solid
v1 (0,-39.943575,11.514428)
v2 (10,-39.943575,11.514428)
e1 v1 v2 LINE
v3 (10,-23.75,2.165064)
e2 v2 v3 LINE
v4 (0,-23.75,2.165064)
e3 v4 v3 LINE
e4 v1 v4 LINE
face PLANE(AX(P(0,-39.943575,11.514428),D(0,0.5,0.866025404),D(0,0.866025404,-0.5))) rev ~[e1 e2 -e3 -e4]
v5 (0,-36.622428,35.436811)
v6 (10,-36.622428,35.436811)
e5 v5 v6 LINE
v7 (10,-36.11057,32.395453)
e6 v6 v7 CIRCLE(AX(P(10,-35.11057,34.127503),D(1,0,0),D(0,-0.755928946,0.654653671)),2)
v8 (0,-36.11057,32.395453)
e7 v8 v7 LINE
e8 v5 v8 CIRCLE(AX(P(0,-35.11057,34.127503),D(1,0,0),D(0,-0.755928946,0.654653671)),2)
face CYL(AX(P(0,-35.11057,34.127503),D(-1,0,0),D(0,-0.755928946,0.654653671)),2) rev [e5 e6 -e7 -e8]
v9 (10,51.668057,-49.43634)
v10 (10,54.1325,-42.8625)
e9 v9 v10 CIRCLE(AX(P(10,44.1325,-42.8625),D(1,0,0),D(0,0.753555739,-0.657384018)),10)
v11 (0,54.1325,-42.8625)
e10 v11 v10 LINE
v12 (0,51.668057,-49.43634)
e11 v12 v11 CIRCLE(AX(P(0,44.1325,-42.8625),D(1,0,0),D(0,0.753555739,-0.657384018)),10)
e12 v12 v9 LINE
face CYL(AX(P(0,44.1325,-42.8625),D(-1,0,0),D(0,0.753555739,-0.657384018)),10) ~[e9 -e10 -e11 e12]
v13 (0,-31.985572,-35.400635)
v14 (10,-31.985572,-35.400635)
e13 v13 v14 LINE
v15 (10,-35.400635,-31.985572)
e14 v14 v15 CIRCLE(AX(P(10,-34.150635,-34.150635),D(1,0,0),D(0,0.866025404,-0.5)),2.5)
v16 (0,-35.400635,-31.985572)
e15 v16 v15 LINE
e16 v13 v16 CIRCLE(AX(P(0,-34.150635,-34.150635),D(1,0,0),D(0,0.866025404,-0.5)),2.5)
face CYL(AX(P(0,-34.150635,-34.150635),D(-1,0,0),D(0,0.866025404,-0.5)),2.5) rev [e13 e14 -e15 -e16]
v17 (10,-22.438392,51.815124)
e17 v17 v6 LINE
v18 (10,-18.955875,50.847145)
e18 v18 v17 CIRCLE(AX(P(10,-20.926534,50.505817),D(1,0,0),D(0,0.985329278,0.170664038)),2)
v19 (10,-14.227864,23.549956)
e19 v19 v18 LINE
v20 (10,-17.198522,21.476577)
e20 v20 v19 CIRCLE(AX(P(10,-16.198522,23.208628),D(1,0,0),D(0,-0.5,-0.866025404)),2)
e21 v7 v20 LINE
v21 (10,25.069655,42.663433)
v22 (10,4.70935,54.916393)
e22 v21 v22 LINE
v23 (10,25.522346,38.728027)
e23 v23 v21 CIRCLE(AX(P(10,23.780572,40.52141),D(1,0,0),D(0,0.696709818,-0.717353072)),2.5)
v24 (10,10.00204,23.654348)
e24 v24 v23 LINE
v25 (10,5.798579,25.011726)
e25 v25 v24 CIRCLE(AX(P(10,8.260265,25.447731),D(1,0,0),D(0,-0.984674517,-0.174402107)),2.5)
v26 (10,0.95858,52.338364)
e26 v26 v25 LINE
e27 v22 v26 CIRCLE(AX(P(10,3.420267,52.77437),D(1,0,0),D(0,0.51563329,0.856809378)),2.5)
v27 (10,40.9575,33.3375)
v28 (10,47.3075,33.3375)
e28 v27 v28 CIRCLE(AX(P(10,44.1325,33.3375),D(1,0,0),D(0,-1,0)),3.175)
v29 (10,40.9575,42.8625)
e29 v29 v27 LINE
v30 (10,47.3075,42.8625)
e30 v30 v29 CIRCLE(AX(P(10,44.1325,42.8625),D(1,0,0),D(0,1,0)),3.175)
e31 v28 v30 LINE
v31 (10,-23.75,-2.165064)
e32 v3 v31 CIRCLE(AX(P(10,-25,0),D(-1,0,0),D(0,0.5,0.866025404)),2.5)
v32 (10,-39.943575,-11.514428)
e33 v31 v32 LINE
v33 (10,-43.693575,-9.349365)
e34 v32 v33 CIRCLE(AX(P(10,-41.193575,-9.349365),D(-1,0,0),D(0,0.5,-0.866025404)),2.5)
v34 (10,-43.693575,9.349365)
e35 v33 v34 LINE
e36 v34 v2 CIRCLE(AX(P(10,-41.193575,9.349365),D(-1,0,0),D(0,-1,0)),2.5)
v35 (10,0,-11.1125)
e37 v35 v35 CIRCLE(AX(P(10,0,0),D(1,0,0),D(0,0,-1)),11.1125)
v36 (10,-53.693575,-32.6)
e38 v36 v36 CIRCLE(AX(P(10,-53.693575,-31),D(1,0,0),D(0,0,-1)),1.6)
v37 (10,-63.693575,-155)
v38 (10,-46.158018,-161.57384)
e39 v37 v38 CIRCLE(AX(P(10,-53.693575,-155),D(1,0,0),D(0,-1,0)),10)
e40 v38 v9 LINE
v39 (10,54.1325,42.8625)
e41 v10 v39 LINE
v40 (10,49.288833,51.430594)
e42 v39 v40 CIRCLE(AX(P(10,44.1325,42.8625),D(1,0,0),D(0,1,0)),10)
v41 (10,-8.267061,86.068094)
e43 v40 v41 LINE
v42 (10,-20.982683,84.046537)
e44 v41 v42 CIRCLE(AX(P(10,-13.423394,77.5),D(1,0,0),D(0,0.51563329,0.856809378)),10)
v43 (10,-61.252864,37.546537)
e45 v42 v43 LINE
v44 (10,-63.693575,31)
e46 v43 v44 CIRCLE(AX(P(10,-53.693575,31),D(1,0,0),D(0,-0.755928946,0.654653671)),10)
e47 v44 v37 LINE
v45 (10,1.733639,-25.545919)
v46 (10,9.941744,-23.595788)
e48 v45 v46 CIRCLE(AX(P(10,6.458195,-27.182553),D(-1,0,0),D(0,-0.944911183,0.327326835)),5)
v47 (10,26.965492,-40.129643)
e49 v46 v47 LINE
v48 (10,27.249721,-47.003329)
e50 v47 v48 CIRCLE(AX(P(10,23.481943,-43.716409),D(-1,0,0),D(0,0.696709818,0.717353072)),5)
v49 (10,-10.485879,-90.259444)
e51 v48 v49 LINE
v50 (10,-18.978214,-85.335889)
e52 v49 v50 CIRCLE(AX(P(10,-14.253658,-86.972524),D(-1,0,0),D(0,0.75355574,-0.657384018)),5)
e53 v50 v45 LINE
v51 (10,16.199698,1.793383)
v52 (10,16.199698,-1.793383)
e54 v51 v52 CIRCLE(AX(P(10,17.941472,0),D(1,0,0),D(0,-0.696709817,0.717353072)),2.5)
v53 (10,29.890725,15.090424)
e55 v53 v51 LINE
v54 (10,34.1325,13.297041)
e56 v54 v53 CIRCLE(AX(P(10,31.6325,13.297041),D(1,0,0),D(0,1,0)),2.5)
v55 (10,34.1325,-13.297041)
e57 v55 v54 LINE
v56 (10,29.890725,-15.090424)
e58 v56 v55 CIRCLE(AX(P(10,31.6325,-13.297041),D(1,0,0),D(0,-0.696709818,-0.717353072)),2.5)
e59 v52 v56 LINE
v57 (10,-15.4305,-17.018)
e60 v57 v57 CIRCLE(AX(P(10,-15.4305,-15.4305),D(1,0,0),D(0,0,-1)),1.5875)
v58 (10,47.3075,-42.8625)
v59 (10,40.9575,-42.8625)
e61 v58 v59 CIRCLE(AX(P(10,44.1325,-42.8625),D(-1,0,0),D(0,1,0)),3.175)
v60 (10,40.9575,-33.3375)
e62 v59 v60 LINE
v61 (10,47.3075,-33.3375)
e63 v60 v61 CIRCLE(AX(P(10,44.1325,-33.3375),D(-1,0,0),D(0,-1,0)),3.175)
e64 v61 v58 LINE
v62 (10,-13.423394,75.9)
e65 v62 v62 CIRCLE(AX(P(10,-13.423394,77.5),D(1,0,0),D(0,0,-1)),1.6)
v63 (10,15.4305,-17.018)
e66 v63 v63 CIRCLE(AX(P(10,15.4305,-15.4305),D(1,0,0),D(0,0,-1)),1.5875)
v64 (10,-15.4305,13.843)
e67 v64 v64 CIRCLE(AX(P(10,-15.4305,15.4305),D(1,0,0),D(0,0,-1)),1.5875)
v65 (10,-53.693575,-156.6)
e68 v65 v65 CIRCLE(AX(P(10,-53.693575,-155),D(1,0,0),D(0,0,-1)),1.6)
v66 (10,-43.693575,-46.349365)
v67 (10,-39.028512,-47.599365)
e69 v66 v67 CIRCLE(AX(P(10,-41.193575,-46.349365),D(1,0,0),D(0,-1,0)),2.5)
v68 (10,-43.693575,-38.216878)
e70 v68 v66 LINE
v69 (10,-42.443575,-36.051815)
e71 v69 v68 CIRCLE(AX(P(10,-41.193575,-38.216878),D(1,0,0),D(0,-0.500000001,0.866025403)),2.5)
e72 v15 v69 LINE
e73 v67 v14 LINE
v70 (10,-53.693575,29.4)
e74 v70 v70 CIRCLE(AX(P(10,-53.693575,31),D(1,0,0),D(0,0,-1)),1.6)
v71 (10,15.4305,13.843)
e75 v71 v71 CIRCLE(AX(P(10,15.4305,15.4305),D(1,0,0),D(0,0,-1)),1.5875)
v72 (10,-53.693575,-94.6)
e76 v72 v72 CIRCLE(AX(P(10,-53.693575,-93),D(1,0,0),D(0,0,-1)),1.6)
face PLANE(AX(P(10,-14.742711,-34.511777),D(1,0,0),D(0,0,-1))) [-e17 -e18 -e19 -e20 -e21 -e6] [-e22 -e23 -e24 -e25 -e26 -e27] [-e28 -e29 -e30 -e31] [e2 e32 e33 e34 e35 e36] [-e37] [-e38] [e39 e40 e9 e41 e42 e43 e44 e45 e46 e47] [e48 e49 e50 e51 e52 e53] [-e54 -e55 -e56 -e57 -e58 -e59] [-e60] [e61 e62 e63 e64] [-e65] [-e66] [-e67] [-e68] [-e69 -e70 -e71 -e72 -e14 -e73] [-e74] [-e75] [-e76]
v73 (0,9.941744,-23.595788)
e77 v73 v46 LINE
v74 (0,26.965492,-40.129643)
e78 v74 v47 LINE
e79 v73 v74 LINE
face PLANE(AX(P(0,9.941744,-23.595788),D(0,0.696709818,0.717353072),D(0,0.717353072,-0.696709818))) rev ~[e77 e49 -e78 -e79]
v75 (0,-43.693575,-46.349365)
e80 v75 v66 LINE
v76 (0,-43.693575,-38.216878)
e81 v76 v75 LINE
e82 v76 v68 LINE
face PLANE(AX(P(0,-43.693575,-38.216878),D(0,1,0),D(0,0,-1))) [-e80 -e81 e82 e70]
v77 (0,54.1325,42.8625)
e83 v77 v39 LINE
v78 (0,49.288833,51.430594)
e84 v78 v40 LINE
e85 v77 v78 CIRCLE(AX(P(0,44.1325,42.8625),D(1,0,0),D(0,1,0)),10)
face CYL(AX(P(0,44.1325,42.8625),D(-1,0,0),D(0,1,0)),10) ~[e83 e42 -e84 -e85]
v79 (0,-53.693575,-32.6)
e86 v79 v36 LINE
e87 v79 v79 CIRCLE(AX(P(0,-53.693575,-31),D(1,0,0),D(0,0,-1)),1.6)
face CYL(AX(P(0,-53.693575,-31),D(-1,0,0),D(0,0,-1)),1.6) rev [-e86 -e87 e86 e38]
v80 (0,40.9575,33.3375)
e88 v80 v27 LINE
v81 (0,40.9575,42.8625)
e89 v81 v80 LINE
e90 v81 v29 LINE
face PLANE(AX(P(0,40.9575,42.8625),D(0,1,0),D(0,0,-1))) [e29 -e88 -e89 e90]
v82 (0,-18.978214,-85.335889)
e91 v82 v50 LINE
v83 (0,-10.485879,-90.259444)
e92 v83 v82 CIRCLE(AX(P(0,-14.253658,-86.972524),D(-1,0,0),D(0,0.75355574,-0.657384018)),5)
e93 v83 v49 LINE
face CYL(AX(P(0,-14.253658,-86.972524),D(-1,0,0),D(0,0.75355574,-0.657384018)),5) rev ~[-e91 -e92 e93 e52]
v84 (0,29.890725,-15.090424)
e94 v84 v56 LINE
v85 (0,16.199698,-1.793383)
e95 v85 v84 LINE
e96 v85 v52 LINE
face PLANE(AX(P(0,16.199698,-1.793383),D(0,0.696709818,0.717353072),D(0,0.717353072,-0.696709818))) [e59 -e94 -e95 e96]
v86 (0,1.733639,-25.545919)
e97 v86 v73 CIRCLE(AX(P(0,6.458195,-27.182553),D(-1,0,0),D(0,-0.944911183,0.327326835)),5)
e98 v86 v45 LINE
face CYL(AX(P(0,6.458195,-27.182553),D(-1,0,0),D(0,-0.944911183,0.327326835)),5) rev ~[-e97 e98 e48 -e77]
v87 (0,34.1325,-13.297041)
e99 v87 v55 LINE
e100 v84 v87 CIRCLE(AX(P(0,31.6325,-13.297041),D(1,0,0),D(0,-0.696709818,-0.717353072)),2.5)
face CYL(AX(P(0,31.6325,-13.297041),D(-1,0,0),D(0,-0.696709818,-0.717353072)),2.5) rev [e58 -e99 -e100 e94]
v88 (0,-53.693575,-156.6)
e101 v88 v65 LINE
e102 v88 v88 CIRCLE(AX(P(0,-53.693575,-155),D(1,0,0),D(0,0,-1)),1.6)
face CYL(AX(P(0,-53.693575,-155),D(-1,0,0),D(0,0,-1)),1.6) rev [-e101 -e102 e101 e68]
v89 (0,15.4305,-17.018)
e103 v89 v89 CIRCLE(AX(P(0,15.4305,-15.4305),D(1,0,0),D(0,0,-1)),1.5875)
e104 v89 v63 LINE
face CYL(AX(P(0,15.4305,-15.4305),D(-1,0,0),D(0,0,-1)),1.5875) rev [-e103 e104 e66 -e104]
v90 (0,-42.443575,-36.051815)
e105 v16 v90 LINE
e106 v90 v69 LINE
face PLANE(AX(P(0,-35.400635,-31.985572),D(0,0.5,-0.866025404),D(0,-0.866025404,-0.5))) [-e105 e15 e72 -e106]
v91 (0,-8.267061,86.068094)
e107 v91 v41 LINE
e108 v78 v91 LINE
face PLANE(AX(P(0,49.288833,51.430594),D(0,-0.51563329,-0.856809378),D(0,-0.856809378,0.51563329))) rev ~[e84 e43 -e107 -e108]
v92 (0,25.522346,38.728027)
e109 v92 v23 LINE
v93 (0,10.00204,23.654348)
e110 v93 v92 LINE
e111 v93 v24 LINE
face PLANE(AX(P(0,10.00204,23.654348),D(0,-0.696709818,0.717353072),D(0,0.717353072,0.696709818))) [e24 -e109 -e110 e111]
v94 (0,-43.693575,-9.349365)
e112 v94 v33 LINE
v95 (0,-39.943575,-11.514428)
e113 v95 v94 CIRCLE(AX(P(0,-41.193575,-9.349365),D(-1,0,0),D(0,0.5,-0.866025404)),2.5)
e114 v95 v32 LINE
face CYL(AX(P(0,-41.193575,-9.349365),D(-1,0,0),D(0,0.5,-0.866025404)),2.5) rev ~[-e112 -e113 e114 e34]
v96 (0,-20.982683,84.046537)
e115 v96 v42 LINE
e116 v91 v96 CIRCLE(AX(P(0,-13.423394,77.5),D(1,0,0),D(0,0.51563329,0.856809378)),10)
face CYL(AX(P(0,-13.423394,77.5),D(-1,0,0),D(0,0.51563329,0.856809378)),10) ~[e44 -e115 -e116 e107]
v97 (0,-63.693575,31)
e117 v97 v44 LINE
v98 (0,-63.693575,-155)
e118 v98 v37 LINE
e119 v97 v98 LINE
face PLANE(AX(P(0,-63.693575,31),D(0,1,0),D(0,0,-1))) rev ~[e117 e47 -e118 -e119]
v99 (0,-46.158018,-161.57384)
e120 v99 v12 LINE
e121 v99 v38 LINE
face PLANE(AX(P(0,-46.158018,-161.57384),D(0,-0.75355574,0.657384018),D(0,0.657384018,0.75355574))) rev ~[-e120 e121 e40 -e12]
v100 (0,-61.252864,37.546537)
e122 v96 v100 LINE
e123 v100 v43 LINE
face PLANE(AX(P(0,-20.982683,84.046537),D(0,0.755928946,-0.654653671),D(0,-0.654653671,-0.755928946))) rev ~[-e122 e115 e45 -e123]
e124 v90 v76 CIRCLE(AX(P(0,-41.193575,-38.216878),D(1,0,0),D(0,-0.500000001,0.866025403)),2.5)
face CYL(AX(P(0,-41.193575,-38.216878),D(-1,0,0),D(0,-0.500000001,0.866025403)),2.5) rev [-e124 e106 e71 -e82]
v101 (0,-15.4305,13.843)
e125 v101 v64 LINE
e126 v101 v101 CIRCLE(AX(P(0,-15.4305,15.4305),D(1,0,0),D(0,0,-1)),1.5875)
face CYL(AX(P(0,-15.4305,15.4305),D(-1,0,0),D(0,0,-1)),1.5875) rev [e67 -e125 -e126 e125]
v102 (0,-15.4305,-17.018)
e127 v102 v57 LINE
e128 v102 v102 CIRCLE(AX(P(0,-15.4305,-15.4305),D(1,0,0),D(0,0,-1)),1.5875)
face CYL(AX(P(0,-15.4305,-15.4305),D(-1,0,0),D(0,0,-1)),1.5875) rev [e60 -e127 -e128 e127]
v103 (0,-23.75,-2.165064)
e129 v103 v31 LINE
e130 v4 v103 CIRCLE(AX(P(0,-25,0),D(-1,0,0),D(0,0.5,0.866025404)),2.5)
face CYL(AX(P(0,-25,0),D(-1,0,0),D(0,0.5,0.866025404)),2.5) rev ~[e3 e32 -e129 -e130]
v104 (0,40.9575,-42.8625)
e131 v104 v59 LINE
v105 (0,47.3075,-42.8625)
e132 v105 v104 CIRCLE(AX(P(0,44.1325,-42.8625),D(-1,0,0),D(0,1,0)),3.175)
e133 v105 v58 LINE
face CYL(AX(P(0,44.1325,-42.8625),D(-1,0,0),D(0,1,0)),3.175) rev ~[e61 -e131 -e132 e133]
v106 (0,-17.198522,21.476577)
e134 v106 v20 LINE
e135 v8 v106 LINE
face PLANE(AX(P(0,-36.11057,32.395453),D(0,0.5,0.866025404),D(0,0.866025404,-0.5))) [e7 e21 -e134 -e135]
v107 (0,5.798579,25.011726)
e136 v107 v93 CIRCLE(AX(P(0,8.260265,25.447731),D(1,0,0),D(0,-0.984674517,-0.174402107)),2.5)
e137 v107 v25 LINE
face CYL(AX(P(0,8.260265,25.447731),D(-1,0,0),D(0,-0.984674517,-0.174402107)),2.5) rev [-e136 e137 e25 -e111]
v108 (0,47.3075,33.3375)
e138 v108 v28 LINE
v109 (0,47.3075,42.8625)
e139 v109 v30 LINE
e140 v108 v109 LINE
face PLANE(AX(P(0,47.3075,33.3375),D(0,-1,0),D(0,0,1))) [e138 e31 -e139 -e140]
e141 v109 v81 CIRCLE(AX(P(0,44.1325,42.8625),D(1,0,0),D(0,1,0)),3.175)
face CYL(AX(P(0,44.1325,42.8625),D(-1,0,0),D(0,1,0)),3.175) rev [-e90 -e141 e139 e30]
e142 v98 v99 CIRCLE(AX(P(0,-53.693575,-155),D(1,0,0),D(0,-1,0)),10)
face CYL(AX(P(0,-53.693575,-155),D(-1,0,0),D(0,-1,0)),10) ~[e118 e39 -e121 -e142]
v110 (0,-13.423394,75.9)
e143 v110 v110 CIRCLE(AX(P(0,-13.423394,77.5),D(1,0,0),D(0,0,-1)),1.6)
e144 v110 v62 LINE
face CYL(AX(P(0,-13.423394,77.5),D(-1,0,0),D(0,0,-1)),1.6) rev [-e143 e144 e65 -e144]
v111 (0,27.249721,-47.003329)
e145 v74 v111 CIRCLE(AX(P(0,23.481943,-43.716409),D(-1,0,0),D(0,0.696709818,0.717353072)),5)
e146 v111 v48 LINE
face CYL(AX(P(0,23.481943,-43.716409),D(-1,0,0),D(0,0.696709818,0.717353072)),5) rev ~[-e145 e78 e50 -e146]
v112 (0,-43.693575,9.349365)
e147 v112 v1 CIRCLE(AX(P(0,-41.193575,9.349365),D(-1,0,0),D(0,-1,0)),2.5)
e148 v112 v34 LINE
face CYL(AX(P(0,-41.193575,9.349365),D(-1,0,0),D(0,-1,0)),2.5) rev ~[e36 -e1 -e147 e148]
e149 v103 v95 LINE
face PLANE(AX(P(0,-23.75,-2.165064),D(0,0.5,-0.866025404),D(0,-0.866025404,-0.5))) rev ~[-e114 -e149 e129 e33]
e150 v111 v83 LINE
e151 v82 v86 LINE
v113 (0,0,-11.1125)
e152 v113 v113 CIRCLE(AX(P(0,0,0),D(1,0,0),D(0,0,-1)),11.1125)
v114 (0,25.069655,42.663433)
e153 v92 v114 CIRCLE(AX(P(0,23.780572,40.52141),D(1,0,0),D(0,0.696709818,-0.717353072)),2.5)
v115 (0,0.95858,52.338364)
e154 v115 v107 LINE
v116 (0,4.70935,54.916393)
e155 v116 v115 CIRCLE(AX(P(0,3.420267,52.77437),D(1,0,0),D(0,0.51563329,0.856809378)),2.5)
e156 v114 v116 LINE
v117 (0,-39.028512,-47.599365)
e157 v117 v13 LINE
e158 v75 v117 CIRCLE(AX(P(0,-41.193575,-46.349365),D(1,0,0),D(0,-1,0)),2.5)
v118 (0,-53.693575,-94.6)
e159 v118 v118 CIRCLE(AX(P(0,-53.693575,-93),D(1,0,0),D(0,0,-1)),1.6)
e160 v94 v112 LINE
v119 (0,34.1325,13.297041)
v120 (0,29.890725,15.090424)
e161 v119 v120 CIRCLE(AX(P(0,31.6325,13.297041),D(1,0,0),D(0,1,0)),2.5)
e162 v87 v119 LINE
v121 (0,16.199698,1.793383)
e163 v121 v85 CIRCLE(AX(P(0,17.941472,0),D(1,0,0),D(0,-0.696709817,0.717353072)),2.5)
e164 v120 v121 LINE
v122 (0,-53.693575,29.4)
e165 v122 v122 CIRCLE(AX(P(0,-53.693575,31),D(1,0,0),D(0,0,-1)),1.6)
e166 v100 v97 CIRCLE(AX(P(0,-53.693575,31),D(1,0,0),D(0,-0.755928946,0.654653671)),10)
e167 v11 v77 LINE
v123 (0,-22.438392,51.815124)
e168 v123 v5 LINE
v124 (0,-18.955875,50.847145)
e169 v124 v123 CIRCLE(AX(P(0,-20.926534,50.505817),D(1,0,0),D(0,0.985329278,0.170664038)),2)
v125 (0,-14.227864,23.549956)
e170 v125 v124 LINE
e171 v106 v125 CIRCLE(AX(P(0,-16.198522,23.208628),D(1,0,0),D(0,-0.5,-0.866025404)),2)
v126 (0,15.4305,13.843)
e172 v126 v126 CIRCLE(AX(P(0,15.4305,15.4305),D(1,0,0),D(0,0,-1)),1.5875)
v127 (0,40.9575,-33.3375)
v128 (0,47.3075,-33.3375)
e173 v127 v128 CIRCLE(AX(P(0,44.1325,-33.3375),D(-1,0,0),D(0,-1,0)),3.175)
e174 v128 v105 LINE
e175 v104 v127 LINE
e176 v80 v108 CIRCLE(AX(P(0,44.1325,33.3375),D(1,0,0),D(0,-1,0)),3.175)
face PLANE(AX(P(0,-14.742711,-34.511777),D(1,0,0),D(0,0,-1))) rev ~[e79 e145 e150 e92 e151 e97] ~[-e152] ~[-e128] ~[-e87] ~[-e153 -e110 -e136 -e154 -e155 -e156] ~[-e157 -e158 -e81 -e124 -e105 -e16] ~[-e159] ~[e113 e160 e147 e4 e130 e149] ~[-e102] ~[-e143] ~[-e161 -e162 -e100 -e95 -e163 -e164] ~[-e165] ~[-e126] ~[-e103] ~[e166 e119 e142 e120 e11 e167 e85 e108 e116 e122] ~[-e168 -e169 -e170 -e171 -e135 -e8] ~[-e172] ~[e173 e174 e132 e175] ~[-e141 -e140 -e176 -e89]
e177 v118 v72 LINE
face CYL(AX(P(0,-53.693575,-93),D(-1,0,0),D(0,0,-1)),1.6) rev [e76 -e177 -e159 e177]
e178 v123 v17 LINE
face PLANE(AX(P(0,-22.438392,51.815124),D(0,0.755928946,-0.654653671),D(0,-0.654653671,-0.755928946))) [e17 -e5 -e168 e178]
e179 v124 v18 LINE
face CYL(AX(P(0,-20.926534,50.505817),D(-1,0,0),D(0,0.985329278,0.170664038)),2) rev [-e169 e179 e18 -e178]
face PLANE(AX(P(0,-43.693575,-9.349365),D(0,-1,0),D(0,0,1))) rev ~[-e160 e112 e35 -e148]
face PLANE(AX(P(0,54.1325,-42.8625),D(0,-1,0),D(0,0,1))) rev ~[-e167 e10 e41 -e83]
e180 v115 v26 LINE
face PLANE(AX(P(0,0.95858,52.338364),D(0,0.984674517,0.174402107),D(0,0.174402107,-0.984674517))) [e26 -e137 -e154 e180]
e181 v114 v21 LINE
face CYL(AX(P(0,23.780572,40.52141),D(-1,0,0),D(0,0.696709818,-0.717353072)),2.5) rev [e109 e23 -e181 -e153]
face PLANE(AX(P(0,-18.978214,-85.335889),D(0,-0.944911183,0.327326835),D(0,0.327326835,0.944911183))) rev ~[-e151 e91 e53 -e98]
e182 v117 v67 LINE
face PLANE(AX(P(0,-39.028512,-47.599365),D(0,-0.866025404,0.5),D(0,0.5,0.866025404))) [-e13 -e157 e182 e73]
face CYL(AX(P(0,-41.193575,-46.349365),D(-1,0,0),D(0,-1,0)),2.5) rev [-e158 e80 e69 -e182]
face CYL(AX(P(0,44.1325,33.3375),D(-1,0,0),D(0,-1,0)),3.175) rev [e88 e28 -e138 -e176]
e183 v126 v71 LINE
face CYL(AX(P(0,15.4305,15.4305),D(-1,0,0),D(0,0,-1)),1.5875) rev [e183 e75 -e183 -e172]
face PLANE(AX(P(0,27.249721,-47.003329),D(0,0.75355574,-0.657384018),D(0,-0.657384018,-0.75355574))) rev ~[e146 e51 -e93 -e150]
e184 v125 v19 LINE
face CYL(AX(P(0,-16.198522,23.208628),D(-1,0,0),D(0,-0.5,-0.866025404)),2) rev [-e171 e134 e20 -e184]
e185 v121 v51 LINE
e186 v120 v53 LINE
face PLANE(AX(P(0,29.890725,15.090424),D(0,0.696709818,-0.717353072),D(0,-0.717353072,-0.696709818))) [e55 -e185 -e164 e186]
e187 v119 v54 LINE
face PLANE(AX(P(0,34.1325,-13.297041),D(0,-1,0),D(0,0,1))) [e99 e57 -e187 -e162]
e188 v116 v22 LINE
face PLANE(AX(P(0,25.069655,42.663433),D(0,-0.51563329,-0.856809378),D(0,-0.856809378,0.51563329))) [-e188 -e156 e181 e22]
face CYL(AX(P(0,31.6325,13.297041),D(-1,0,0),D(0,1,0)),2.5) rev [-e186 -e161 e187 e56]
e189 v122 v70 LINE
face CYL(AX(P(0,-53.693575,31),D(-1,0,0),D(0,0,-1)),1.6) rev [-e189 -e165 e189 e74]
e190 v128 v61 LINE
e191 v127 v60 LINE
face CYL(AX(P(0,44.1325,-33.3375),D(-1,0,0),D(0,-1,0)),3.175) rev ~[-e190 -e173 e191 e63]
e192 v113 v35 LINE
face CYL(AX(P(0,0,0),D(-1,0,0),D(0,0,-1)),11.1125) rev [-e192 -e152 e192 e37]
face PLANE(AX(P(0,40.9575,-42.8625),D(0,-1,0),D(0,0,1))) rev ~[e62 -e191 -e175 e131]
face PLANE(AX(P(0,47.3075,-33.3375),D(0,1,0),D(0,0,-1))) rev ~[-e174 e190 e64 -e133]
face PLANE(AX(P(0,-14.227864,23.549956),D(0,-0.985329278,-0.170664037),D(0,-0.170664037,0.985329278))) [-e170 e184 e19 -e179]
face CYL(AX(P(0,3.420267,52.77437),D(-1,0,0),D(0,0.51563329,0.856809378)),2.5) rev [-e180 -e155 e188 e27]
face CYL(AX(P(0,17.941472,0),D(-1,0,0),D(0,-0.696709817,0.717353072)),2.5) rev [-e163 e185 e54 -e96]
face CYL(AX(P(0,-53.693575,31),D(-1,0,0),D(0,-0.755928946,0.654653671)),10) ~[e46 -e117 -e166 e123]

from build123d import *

# Parameters (mm, degrees)
SKETCH1_R           = 11.1125
SKETCH1_R_2         = 1.5875
SKETCH1_R_3         = 1.6
BOSS_EXTRUDE1_DEPTH = 10


with BuildPart() as part:
    # Sketch1 → Boss-Extrude1 (new body)
    with BuildSketch(Plane(origin=(0, 0, 0), x_dir=(0, 0, -1), z_dir=(1, 0, 0))):
        with BuildLine():
            Line((-31, -63.693575035), (155, -63.693575035))
            ThreePointArc((155, -63.693575035), (164.363641759, -57.203876021), (161.573840181, -46.158017638))
            Line((161.573840181, -46.158017638), (49.436340181, 51.668057396))
            ThreePointArc((49.436340181, 51.668057396), (46.372800987, 53.496141759), (42.8625, 54.1325))
            Line((42.8625, 54.1325), (-42.8625, 54.1325))
            ThreePointArc((-42.8625, 54.1325), (-47.78371281, 52.83776648), (-51.430593782, 49.288832897))
            Line((-51.430593782, 49.288832897), (-86.068093782, -8.267060862))
            ThreePointArc((-86.068093782, -8.267060862), (-87.375969658, -14.993496721), (-84.046536707, -20.982683219))
            Line((-84.046536707, -20.982683219), (-37.546536707, -61.252864495))
            ThreePointArc((-37.546536707, -61.252864495), (-34.49335837, -63.063550878), (-31, -63.693575035))
        make_face()
        Circle(SKETCH1_R, mode=Mode.SUBTRACT)
        with Locations((-15.4305, 15.4305)):
            Circle(SKETCH1_R_2, mode=Mode.SUBTRACT)
        with Locations((15.4305, 15.4305)):
            Circle(SKETCH1_R_2, mode=Mode.SUBTRACT)
        with Locations((15.4305, -15.4305)):
            Circle(SKETCH1_R_2, mode=Mode.SUBTRACT)
        with Locations((-15.4305, -15.4305)):
            Circle(SKETCH1_R_2, mode=Mode.SUBTRACT)
        with Locations((-77.5, -13.423393759)):
            Circle(SKETCH1_R_3, mode=Mode.SUBTRACT)
        with Locations((-31, -53.693575035)):
            Circle(SKETCH1_R_3, mode=Mode.SUBTRACT)
        with Locations((31, -53.693575035)):
            Circle(SKETCH1_R_3, mode=Mode.SUBTRACT)
        with Locations((93, -53.693575035)):
            Circle(SKETCH1_R_3, mode=Mode.SUBTRACT)
        with Locations((155, -53.693575035)):
            Circle(SKETCH1_R_3, mode=Mode.SUBTRACT)
        with BuildLine():
            Line((33.3375, 47.3075), (42.8625, 47.3075))
            ThreePointArc((42.8625, 47.3075), (46.0375, 44.1325), (42.8625, 40.9575))
            Line((42.8625, 40.9575), (33.3375, 40.9575))
            ThreePointArc((33.3375, 40.9575), (30.1625, 44.1325), (33.3375, 47.3075))
        make_face(mode=Mode.SUBTRACT)
        with BuildLine():
            Line((-33.3375, 47.3075), (-42.8625, 47.3075))
            ThreePointArc((-42.8625, 47.3075), (-46.0375, 44.1325), (-42.8625, 40.9575))
            Line((-42.8625, 40.9575), (-33.3375, 40.9575))
            ThreePointArc((-33.3375, 40.9575), (-30.1625, 44.1325), (-33.3375, 47.3075))
        make_face(mode=Mode.SUBTRACT)
        with BuildLine():
            Line((13.297041151, 34.1325), (-13.297041151, 34.1325))
            ThreePointArc((-13.297041151, 34.1325), (-15.599695746, 32.606040867), (-15.090423831, 29.890725455))
            Line((-15.090423831, 29.890725455), (-1.793382679, 16.1996979))
            ThreePointArc((-1.793382679, 16.1996979), (0, 15.441472444), (1.793382679, 16.1996979))
            Line((1.793382679, 16.1996979), (15.090423831, 29.890725455))
            ThreePointArc((15.090423831, 29.890725455), (15.599695746, 32.606040867), (13.297041151, 34.1325))
        make_face(mode=Mode.SUBTRACT)
        with BuildLine():
            Line((-51.815124471, -22.438391905), (-35.436810722, -36.622427682))
            ThreePointArc((-35.436810722, -36.622427682), (-33.795573215, -37.08283305), (-32.395452573, -36.11056979))
            Line((-32.395452573, -36.11056979), (-21.47657674, -17.198522087))
            ThreePointArc((-21.47657674, -17.198522087), (-21.568587763, -15.053852045), (-23.549955622, -14.22786353))
            Line((-23.549955622, -14.22786353), (-50.847145204, -18.955875456))
            ThreePointArc((-50.847145204, -18.955875456), (-52.43276537, -20.390931102), (-51.815124471, -22.438391905))
        make_face(mode=Mode.SUBTRACT)
        with BuildLine():
            Line((-42.663433079, 25.069654772), (-54.916393111, 4.709349732))
            ThreePointArc((-54.916393111, 4.709349732), (-54.834634818, 2.004177703), (-52.338364397, 0.958580214))
            Line((-52.338364397, 0.958580214), (-25.011725561, 5.798578931))
            ThreePointArc((-25.011725561, 5.798578931), (-23.068694594, 7.492029199), (-23.65434815, 10.002039769))
            Line((-23.65434815, 10.002039769), (-38.728026954, 25.522346093))
            ThreePointArc((-38.728026954, 25.522346093), (-40.807101694, 26.264193912), (-42.663433079, 25.069654772))
        make_face(mode=Mode.SUBTRACT)
        with BuildLine():
            Line((-11.514428415, -39.943575035), (-2.165063509, -23.75))
            ThreePointArc((-2.165063509, -23.75), (0, -22.5), (2.165063509, -23.75))
            Line((2.165063509, -23.75), (11.514428415, -39.943575035))
            ThreePointArc((11.514428415, -39.943575035), (11.514428415, -42.443575035), (9.349364905, -43.693575035))
            Line((9.349364905, -43.693575035), (-9.349364905, -43.693575035))
            ThreePointArc((-9.349364905, -43.693575035), (-11.514428415, -42.443575035), (-11.514428415, -39.943575035))
        make_face(mode=Mode.SUBTRACT)
        with BuildLine():
            Line((38.216878365, -43.693575035), (46.349364905, -43.693575035))
            ThreePointArc((46.349364905, -43.693575035), (48.764179471, -41.840622647), (47.599364905, -39.028511525))
            Line((47.599364905, -39.028511525), (35.400635095, -31.985571585))
            ThreePointArc((35.400635095, -31.985571585), (32.382868142, -32.382868142), (31.985571585, -35.400635095))
            Line((31.985571585, -35.400635095), (36.051814855, -42.443575035))
            ThreePointArc((36.051814855, -42.443575035), (36.966878365, -43.358638544), (38.216878365, -43.693575035))
        make_face(mode=Mode.SUBTRACT)
        with BuildLine():
            Line((47.00332879, 27.249721463), (90.259443654, -10.48587937))
            ThreePointArc((90.259443654, -10.48587937), (91.29812152, -16.761486275), (85.335889386, -18.978213981))
            Line((85.335889386, -18.978213981), (25.545919003, 1.733639317))
            ThreePointArc((25.545919003, 1.733639317), (22.317964542, 5.302436868), (23.59578782, 9.941744319))
            Line((23.59578782, 9.941744319), (40.12964334, 26.965491854))
            ThreePointArc((40.12964334, 26.965491854), (43.509833256, 28.4776736), (47.00332879, 27.249721463))
        make_face(mode=Mode.SUBTRACT)
    extrude(amount=BOSS_EXTRUDE1_DEPTH)


solid = part.part
